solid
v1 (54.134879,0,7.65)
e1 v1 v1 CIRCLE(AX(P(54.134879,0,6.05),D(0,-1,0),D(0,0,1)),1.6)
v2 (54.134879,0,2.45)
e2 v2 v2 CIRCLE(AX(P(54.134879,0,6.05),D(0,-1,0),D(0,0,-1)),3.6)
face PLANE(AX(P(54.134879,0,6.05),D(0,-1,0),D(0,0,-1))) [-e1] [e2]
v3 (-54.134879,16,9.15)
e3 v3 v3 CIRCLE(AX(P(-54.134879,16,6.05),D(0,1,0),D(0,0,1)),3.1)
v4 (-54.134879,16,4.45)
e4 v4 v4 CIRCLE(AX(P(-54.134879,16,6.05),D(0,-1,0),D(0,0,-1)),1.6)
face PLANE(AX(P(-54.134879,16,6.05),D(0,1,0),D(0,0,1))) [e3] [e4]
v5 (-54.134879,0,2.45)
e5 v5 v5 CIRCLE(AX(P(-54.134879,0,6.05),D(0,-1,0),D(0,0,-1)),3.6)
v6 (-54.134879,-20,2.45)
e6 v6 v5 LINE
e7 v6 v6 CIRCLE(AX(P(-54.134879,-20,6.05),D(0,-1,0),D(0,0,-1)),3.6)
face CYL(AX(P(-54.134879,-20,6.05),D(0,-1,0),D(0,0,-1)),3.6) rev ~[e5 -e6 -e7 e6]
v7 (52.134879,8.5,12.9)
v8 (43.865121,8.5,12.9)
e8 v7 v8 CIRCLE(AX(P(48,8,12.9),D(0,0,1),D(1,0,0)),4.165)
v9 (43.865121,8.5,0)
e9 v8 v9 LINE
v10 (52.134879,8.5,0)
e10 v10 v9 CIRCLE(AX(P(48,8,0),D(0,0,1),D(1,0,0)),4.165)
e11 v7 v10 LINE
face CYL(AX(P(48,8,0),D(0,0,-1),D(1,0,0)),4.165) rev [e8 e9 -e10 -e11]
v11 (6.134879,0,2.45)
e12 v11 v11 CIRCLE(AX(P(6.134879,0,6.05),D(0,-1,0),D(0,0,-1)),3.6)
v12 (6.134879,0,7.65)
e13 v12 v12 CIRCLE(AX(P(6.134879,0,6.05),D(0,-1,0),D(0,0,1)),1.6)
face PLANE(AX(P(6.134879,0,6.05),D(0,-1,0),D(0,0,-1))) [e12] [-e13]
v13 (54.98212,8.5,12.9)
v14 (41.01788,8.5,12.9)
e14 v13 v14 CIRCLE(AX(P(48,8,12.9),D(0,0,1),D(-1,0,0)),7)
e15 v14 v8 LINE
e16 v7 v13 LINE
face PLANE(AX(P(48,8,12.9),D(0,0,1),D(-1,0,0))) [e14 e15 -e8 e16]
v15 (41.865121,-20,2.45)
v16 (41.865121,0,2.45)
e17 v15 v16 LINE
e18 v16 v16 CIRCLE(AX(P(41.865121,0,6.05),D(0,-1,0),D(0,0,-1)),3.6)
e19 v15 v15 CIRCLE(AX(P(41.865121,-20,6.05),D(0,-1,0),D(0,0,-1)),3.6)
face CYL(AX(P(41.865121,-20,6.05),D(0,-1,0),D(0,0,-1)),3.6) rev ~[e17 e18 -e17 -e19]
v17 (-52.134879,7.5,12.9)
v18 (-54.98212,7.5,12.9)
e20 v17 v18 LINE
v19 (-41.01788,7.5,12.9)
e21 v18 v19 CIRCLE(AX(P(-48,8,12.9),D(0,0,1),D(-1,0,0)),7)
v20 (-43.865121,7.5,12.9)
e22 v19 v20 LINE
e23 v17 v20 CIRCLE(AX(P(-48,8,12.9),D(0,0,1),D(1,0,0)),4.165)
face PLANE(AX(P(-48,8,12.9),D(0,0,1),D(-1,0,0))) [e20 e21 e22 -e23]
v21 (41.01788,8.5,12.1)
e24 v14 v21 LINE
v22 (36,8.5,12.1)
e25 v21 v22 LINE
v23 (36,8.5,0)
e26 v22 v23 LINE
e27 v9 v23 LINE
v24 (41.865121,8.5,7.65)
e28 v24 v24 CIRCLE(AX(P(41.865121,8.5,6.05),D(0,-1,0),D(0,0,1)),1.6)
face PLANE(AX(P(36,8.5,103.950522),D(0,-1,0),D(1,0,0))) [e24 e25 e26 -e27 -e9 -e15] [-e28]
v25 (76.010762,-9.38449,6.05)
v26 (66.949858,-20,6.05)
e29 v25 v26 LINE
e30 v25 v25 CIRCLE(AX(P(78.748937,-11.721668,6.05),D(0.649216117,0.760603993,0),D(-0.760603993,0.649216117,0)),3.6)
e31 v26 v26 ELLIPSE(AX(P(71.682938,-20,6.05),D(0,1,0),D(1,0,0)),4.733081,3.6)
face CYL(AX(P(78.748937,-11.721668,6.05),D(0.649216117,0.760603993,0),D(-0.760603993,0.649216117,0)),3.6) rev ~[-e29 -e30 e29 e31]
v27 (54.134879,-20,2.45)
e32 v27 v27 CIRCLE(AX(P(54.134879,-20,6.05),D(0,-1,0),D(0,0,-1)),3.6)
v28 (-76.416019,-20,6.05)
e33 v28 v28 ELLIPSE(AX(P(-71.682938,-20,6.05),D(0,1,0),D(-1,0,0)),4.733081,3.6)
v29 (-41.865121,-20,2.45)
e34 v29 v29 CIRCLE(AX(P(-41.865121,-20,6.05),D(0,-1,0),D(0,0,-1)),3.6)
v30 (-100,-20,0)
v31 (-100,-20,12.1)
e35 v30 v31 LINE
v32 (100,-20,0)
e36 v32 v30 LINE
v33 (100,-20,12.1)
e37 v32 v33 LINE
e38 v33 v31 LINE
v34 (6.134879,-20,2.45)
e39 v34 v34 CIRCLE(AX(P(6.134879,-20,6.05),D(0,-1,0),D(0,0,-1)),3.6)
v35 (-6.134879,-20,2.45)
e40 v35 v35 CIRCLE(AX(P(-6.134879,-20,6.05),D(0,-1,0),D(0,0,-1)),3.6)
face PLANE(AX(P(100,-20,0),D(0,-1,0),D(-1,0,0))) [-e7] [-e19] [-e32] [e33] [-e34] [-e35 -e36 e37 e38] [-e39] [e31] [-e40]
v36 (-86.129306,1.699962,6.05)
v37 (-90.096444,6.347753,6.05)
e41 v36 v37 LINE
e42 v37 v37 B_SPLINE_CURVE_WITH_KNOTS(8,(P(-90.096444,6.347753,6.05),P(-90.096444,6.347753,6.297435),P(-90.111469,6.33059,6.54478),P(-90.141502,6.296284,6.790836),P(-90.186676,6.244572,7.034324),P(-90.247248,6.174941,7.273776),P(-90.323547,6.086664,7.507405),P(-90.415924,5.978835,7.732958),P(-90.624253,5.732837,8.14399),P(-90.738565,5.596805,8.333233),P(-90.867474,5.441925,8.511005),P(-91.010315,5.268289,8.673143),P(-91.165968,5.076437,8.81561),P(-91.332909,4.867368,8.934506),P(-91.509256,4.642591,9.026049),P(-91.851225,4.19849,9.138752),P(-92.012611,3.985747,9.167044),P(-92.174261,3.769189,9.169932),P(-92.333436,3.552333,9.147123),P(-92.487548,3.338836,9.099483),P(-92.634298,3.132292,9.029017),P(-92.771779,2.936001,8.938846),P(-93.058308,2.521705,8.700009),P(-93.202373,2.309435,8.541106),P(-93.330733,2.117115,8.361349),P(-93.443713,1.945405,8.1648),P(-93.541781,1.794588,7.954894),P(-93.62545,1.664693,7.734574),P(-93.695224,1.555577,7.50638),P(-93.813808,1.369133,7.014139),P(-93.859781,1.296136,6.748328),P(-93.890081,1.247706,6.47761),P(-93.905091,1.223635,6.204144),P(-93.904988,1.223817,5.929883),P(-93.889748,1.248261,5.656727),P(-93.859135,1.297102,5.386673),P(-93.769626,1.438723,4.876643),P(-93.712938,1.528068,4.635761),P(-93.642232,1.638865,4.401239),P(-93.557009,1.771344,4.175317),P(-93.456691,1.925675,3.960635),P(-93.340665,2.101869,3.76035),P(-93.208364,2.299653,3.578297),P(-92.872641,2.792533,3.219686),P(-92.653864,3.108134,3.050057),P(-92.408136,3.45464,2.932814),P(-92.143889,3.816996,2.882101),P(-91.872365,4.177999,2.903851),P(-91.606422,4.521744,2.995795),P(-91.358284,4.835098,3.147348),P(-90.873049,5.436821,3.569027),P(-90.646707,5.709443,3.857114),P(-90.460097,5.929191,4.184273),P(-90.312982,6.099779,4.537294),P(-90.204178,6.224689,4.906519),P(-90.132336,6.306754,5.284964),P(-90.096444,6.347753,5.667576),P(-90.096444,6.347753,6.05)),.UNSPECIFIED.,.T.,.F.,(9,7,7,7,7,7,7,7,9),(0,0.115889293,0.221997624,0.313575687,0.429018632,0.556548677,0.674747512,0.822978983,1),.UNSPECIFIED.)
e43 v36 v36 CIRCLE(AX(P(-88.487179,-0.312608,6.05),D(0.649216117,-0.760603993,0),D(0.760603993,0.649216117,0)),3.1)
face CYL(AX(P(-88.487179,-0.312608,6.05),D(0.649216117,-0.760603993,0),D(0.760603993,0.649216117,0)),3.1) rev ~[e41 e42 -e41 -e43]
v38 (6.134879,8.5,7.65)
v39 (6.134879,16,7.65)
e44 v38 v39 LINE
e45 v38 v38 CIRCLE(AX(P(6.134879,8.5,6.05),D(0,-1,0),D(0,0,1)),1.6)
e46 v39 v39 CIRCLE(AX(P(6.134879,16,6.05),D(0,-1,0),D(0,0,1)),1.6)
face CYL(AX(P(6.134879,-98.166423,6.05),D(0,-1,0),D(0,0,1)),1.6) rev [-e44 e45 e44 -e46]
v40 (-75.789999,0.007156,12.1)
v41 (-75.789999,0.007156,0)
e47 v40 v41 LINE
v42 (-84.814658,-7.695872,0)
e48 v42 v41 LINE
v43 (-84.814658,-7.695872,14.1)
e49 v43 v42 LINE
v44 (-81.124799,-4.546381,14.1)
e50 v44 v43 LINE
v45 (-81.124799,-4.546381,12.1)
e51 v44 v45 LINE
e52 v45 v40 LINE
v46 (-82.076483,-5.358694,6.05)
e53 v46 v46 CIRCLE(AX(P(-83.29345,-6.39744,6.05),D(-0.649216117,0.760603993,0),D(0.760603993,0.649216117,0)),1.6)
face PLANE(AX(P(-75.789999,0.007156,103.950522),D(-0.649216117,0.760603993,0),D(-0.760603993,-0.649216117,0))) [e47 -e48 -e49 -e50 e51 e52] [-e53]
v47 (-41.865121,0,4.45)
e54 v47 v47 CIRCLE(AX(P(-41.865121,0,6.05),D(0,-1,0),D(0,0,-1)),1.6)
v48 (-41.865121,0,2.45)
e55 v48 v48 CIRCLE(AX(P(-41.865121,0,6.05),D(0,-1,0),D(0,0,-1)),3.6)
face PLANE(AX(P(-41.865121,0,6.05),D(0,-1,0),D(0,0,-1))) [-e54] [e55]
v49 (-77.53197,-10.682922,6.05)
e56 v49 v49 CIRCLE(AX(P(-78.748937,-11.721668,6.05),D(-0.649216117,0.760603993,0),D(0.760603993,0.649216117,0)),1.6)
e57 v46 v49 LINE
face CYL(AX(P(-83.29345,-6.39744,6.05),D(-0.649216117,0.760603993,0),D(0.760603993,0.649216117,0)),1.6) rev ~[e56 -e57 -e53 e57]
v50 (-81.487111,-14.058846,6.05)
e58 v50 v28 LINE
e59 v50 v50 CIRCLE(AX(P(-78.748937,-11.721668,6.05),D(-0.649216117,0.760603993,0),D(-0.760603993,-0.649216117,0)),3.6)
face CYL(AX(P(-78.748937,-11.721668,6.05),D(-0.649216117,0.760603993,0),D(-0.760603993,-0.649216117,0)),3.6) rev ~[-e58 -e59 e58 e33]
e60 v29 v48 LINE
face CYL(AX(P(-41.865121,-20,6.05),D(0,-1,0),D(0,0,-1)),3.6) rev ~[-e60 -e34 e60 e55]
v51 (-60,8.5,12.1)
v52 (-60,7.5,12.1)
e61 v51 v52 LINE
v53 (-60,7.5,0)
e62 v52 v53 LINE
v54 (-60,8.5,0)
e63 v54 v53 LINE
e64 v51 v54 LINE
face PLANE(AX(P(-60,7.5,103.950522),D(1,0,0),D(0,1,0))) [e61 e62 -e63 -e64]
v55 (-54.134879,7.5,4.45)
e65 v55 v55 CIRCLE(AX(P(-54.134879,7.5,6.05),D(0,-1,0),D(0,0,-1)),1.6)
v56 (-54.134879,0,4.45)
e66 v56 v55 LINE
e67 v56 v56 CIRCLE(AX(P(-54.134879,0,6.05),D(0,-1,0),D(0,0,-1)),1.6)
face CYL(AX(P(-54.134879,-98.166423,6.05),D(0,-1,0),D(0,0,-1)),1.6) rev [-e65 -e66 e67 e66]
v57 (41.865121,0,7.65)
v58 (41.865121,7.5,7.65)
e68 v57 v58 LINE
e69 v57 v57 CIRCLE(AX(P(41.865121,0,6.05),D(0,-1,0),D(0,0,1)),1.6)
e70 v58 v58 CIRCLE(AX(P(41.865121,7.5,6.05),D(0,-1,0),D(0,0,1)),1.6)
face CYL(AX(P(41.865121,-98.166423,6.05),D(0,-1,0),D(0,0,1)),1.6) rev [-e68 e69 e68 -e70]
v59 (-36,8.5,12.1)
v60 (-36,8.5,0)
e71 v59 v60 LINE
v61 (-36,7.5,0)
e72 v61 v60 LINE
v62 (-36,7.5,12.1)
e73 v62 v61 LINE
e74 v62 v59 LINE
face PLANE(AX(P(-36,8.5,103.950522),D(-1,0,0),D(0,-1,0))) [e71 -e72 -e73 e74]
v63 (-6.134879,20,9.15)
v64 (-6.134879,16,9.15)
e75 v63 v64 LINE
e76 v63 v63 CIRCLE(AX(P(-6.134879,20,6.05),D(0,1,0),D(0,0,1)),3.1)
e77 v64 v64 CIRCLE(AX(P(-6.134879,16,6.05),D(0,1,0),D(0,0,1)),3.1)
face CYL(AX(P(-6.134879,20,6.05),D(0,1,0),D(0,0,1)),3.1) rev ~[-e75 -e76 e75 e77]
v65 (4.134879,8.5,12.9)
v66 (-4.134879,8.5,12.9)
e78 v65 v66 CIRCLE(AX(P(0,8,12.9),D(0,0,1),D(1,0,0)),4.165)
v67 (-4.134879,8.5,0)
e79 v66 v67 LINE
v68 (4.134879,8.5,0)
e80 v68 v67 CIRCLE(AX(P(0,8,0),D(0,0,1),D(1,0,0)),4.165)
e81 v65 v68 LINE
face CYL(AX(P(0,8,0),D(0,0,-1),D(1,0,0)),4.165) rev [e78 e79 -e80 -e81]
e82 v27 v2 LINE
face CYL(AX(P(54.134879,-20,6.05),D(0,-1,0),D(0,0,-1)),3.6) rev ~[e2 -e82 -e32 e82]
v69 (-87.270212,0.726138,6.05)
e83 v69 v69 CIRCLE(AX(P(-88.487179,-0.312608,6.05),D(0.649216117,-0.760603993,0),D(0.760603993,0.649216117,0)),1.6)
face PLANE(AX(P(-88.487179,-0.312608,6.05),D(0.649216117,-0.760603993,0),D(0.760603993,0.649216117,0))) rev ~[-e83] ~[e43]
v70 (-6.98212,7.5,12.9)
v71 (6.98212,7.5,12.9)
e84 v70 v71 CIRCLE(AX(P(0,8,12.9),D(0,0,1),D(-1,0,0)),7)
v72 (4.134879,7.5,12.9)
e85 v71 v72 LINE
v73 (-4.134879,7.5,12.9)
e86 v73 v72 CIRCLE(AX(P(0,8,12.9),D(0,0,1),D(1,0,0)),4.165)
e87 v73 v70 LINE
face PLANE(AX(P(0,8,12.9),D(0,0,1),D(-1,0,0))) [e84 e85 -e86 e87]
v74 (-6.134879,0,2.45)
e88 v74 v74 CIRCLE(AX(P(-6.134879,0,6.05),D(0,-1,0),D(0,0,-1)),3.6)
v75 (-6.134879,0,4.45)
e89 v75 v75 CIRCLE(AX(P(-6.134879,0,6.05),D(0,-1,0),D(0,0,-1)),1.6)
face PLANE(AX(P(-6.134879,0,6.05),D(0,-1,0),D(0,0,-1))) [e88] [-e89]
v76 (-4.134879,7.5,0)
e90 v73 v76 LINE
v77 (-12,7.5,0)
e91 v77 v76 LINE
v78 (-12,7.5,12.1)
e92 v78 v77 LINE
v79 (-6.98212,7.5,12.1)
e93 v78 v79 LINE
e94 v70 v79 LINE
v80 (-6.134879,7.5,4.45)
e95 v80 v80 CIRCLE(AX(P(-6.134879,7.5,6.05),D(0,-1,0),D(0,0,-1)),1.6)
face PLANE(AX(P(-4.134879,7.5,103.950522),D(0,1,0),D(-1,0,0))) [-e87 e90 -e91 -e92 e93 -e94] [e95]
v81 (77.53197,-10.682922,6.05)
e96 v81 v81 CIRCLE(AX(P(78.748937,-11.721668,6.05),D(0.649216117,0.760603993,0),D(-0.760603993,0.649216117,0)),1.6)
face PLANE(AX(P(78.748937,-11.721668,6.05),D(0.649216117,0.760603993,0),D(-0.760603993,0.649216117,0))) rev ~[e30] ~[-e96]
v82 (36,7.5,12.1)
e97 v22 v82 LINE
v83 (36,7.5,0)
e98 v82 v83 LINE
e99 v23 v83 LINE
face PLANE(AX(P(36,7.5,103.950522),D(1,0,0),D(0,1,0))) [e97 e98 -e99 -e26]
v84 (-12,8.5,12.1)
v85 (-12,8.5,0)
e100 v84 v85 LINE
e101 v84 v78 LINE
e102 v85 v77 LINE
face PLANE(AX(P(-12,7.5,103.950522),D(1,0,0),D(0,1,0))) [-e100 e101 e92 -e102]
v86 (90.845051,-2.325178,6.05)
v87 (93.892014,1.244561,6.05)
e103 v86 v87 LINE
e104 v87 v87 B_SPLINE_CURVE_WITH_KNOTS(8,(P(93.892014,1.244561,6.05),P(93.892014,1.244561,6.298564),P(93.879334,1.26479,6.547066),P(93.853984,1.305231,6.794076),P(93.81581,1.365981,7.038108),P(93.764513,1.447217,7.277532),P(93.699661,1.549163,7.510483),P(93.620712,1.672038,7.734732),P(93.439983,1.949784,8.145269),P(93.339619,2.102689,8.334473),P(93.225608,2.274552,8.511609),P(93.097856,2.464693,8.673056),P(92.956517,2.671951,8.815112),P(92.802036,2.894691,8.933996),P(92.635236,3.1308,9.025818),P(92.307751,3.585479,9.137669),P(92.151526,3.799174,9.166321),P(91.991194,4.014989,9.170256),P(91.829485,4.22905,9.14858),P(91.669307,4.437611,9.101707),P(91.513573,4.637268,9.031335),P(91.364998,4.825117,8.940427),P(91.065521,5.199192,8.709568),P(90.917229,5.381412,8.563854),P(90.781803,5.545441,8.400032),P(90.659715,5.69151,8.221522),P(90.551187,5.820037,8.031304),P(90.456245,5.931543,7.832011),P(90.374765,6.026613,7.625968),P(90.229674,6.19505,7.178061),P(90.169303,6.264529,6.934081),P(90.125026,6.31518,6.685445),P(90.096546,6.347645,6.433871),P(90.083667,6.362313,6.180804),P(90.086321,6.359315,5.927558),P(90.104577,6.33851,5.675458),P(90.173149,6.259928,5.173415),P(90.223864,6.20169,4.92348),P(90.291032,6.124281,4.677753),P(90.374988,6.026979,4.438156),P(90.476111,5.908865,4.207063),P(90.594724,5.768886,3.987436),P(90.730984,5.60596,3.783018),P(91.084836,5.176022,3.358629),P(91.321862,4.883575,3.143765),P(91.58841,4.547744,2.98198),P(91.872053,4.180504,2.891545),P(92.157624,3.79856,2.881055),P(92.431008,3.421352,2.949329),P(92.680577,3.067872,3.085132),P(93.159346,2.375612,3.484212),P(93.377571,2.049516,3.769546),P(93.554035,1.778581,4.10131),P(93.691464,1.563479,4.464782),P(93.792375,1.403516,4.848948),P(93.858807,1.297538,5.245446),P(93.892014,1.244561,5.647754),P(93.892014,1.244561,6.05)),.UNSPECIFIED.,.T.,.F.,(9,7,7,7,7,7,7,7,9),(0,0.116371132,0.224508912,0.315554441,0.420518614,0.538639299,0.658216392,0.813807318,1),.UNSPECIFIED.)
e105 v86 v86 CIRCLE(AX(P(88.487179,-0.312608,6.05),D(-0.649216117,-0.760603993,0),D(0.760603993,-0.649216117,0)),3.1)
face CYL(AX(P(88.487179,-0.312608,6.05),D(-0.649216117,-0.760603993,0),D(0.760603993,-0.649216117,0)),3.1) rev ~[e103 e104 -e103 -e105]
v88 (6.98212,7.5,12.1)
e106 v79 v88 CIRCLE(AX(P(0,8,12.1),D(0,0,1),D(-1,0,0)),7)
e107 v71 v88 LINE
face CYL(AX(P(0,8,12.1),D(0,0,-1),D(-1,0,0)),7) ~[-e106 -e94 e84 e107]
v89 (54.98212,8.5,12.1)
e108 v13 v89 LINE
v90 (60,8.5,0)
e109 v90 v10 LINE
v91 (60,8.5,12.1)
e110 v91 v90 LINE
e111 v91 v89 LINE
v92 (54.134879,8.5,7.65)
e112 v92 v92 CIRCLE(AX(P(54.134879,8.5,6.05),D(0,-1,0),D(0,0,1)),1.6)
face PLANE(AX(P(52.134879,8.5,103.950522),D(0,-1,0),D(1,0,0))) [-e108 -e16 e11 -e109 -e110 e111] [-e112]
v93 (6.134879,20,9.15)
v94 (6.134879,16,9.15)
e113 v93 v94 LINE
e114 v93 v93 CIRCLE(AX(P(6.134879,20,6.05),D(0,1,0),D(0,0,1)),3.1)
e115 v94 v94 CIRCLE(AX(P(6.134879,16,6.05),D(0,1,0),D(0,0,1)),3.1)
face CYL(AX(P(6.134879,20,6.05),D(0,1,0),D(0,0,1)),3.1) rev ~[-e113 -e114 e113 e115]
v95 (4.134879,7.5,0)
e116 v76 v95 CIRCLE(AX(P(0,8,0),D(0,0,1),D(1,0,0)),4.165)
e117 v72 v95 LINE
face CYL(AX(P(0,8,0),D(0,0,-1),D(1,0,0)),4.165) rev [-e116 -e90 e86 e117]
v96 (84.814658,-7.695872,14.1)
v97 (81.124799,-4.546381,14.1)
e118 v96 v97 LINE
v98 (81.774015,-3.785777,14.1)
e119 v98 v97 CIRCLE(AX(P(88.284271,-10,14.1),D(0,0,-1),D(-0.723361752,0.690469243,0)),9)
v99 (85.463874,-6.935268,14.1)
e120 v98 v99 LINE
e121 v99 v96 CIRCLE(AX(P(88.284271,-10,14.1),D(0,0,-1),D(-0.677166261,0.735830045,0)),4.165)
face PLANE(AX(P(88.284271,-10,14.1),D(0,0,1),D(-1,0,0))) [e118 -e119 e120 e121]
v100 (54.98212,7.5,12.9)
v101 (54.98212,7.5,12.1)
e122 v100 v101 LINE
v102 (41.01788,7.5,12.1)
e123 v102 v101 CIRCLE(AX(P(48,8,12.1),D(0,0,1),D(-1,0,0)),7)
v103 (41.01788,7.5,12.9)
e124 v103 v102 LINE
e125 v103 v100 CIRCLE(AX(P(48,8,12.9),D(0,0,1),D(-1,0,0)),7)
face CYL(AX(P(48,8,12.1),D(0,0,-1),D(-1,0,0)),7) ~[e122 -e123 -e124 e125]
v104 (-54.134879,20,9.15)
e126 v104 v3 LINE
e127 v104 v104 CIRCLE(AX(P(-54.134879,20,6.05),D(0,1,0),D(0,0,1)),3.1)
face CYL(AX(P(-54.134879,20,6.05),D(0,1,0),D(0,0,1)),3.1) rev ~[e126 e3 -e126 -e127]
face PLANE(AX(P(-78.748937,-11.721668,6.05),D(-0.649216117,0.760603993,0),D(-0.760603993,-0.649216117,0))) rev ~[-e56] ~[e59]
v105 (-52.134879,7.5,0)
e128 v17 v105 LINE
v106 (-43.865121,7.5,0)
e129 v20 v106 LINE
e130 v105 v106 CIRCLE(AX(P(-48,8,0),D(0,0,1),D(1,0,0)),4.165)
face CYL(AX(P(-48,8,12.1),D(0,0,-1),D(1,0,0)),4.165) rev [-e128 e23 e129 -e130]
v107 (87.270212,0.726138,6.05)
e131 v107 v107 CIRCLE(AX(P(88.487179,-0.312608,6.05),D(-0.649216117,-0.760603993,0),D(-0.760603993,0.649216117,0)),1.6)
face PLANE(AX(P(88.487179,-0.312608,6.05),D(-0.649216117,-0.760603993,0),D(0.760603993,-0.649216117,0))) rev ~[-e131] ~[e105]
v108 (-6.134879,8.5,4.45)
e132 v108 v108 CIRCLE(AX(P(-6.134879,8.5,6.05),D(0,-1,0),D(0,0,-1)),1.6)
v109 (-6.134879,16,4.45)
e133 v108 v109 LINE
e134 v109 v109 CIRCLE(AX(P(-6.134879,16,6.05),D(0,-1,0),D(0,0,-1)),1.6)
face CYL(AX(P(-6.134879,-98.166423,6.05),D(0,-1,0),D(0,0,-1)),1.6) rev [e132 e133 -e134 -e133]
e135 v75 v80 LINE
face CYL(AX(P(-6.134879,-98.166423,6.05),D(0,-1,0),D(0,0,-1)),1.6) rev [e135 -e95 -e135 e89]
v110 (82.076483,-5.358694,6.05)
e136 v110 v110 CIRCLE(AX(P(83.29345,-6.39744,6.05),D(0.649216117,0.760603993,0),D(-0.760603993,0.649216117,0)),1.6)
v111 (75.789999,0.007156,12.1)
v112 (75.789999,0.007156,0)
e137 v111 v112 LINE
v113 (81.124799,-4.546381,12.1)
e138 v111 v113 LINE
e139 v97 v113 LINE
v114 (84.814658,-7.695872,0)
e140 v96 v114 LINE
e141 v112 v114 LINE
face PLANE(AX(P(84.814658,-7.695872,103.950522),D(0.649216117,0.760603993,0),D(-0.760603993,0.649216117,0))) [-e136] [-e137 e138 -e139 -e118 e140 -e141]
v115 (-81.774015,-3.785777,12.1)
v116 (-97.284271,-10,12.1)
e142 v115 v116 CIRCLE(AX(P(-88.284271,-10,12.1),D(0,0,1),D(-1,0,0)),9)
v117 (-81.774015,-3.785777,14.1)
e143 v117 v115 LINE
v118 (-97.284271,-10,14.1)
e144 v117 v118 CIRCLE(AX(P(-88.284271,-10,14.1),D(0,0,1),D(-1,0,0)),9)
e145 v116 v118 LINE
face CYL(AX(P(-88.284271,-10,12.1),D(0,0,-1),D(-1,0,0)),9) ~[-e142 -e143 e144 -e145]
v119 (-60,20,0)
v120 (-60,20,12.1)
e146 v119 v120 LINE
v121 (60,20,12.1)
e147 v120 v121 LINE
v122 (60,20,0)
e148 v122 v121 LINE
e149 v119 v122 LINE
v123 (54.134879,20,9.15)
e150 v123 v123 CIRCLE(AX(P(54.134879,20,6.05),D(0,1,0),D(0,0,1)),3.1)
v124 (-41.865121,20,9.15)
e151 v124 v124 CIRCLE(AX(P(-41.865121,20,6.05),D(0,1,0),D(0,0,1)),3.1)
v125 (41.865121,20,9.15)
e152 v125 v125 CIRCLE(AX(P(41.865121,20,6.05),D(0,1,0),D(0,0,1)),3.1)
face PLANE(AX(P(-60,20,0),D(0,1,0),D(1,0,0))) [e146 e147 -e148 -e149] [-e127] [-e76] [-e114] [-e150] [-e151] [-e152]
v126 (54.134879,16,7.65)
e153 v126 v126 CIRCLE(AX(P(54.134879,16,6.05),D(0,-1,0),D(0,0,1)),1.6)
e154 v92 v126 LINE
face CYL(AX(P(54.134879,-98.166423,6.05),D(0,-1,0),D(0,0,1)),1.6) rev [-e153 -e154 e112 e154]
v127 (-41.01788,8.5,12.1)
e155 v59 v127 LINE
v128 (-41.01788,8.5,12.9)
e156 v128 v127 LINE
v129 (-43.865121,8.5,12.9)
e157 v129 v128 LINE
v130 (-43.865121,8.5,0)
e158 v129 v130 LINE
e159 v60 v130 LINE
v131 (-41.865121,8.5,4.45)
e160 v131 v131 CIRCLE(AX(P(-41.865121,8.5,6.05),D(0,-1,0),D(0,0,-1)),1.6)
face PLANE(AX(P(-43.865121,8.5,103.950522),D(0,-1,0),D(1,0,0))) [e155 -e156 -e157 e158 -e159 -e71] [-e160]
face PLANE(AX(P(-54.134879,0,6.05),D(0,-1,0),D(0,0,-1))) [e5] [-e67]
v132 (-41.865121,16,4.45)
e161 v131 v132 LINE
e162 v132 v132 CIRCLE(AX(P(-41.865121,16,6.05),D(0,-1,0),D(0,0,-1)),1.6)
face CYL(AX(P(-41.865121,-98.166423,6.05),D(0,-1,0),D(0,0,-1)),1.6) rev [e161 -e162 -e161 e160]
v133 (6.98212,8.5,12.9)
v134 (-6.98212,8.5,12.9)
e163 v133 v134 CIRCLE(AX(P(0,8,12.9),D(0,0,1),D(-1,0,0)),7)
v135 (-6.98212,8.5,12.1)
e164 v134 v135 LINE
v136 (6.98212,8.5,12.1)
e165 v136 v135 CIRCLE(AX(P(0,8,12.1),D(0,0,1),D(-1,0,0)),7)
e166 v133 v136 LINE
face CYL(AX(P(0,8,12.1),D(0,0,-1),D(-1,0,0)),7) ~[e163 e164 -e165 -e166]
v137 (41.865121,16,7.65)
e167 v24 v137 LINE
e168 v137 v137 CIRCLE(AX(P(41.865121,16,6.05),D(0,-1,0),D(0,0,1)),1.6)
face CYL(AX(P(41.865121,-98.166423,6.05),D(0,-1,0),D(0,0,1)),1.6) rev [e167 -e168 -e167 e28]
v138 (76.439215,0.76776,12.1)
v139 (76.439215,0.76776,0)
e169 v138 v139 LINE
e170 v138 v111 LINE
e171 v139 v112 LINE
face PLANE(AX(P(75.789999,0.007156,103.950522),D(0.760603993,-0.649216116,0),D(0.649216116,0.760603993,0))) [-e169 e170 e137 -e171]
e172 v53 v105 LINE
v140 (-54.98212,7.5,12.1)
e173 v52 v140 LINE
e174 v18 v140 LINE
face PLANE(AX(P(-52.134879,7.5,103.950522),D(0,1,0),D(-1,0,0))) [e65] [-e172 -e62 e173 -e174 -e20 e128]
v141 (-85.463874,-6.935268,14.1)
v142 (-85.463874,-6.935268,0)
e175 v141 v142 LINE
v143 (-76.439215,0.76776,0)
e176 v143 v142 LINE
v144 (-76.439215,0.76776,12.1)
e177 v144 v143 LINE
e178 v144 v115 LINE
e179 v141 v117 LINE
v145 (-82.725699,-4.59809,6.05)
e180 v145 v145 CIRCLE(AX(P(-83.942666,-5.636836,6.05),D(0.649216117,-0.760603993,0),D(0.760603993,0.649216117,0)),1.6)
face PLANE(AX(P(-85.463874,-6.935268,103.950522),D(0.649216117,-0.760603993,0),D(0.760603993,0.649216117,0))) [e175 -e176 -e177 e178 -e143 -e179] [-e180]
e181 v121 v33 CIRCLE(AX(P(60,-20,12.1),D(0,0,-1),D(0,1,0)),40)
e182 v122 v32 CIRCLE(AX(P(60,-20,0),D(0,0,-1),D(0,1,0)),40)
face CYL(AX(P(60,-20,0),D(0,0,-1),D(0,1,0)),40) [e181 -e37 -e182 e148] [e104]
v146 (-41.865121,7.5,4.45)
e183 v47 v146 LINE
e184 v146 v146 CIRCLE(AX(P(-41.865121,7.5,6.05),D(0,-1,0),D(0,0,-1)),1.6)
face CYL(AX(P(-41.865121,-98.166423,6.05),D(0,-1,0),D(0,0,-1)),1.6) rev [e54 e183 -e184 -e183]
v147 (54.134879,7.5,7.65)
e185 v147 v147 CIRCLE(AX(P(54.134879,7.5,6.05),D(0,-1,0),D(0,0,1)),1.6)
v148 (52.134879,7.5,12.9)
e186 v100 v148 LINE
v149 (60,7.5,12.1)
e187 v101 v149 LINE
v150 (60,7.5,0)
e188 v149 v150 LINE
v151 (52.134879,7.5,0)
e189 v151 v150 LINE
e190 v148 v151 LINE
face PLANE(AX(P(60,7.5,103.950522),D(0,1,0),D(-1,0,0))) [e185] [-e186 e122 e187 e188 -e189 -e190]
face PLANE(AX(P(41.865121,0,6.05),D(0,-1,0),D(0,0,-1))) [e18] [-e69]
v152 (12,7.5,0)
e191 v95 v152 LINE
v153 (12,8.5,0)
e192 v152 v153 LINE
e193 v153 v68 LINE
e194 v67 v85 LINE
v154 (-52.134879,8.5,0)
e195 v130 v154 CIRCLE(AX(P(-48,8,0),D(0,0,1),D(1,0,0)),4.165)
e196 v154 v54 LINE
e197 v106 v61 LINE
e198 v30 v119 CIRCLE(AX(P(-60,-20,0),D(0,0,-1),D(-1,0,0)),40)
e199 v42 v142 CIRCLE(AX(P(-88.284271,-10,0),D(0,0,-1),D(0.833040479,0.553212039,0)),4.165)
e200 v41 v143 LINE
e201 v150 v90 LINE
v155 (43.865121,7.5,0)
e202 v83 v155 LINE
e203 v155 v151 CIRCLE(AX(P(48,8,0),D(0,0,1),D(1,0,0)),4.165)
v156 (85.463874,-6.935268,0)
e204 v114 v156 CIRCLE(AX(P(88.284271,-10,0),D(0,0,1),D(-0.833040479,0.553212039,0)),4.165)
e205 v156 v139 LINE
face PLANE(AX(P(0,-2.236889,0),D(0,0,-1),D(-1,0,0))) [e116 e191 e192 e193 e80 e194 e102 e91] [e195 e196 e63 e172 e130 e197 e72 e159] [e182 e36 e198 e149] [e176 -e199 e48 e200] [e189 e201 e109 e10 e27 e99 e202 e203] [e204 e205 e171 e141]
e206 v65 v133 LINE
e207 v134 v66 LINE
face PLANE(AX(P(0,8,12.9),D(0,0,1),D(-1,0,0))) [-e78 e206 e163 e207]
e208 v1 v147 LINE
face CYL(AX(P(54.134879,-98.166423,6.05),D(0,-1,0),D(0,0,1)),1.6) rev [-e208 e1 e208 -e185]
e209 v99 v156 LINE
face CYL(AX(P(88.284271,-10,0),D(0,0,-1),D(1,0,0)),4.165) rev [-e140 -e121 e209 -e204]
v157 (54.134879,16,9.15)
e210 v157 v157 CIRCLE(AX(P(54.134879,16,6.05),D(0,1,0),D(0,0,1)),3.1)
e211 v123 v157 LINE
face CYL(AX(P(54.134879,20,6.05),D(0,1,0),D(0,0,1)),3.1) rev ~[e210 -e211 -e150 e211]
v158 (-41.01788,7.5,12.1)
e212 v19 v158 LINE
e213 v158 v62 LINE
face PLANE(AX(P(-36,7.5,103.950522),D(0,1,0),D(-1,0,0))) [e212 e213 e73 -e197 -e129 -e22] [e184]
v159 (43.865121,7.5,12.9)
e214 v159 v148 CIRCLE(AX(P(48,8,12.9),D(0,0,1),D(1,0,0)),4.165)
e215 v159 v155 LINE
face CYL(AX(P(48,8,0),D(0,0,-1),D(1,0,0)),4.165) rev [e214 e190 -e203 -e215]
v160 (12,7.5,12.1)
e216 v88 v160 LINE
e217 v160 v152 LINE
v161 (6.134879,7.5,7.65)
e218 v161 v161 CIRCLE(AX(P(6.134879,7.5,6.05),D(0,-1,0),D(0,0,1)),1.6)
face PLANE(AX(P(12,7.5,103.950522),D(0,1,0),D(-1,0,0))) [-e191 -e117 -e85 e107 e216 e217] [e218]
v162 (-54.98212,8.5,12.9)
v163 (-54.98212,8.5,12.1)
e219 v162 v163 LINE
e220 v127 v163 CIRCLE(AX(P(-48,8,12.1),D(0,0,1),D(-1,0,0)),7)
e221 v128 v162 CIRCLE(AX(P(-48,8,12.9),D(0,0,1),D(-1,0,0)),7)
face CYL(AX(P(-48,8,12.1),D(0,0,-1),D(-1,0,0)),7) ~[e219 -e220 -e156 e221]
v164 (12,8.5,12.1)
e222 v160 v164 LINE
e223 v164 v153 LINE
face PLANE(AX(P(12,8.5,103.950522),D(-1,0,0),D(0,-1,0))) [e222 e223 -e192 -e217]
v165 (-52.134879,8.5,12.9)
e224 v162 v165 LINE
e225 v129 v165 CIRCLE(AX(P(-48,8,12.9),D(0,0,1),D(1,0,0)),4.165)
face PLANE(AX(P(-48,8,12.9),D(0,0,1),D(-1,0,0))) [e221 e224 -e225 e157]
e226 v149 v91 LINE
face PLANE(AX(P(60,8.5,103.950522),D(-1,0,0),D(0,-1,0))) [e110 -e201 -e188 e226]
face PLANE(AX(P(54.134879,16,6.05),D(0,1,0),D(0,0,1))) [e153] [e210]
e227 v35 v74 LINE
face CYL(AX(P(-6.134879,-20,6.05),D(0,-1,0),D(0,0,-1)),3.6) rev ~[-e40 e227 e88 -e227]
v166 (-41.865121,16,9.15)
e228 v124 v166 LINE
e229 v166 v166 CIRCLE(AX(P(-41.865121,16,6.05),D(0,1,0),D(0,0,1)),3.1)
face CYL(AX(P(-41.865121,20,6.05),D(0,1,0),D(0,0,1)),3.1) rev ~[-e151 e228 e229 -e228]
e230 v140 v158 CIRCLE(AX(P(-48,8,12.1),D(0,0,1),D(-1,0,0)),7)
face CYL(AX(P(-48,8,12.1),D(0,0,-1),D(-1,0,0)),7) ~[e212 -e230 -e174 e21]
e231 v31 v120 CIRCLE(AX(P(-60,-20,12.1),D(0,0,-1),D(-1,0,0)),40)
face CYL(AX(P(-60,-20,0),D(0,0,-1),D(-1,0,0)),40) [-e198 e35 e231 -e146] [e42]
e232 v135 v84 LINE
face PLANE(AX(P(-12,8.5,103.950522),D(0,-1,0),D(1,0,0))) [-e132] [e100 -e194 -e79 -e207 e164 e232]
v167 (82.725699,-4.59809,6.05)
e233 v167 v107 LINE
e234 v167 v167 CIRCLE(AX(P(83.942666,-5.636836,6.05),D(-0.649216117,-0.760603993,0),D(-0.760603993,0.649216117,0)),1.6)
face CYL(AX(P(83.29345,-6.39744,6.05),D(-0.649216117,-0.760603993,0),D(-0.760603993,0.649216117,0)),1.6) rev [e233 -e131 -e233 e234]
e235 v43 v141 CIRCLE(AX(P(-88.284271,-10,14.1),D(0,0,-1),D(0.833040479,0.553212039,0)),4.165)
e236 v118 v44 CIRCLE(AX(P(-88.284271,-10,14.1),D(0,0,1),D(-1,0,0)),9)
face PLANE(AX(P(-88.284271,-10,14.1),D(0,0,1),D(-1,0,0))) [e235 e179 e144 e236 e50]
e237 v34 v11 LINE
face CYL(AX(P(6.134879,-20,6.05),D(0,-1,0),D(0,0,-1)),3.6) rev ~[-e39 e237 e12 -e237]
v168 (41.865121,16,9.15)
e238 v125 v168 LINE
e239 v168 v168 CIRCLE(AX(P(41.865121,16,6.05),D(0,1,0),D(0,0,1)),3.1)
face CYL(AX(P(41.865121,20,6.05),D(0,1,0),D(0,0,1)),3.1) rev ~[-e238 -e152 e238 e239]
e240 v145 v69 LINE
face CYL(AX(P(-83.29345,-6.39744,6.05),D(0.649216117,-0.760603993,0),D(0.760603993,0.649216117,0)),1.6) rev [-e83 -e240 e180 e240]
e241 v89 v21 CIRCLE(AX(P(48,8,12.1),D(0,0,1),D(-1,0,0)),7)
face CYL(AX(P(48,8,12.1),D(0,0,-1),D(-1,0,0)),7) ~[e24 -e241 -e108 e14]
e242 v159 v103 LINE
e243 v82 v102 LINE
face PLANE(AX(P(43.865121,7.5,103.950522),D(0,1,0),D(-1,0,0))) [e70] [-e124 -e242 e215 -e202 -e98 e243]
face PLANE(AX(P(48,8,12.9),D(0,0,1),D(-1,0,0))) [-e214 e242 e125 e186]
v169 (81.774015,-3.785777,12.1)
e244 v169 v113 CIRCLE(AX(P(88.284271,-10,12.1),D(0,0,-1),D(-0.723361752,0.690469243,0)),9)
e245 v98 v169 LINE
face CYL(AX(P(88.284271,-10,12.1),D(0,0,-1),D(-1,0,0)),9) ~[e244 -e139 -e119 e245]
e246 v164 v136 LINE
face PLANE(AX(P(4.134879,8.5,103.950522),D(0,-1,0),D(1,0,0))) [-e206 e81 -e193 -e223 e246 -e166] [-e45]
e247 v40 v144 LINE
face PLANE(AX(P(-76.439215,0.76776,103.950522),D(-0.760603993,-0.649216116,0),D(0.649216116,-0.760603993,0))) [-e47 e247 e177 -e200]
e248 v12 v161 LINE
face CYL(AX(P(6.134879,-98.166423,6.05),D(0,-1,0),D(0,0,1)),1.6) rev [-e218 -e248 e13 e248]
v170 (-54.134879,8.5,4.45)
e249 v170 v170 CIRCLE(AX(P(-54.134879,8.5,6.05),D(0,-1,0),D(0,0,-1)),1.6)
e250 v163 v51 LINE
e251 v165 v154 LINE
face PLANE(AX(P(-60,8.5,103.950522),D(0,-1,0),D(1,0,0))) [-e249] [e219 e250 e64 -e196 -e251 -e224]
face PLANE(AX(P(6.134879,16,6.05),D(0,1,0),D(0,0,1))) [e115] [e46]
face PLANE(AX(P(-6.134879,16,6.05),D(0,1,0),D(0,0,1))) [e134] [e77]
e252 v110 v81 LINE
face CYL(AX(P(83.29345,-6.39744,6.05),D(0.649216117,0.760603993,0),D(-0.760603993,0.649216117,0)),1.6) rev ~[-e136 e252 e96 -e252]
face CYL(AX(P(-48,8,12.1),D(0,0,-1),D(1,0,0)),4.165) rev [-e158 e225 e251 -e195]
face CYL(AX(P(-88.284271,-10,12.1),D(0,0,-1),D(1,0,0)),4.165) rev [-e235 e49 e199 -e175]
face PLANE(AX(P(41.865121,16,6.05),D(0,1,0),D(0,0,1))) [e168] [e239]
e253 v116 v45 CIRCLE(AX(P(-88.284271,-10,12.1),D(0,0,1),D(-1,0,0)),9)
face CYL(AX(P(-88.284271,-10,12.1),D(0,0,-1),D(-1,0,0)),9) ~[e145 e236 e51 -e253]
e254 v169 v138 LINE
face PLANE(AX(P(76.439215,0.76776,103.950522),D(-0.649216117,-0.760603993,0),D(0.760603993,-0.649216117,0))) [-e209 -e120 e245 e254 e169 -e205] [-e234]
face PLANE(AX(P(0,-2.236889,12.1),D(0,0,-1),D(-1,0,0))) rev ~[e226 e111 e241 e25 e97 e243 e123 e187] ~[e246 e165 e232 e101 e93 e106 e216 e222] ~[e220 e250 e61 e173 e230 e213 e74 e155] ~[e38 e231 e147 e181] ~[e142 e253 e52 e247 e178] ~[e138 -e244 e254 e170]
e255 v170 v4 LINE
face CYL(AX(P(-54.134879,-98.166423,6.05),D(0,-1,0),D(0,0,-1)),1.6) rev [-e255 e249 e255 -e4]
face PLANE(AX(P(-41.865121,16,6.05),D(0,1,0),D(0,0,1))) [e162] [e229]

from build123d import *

# Parameters (mm, degrees)
SKETCH1_R                      = 4.165
BOSS_EXTRUDE1_DEPTH            = 12.1
SKETCH2_R                      = 7
SKETCH2_R_2                    = 4.165
BOSS_EXTRUDE3_DEPTH            = 0.8
SKETCH4_R                      = 9
SKETCH4_R_2                    = 4.165
BOSS_EXTRUDE4_DEPTH            = 2
CUT_EXTRUDE2_DEPTH             = 103.950522097
CUT_EXTRUDE2_DEPTH_BACK        = 103.950522097
CUT_EXTRUDE3_DEPTH             = 105.666422505
CUT_EXTRUDE3_DEPTH_BACK        = 105.666422505
SKETCH8_R                      = 1.6
CUT_EXTRUDE4_REACH             = 146.593
SKETCH9_R                      = 1.6
CUT_EXTRUDE4_DIRECTION_2_REACH = 146.593
CUT_EXTRUDE5_REACH             = 146.593
SKETCH10_R                     = 1.6
CUT_EXTRUDE5_DIRECTION_2_REACH = 146.593
SKETCH11_R                     = 3.1
CUT_EXTRUDE6_DEPTH             = 4
SKETCH12_R                     = 3.6
CUT_EXTRUDE7_DEPTH             = 20
CUT_EXTRUDE8_REACH             = 153.791
CUT_EXTRUDE8_END_RADIUS        = 40
SKETCH13_R                     = 3.1
CUT_EXTRUDE9_REACH             = 140.366
SKETCH14_R                     = 3.6
CUT_EXTRUDE10_REACH            = 140.366
SKETCH15_R                     = 3.6
CUT_EXTRUDE11_REACH            = 153.791
CUT_EXTRUDE11_END_RADIUS       = 40
SKETCH16_R                     = 3.1


with BuildPart() as part:
    # Sketch1 → Boss-Extrude1 (new body)
    with BuildSketch(Plane.XY):
        with BuildLine():
            Line((-60, 20), (60, 20))
            ThreePointArc((60, 20), (88.284271247, 8.284271247), (100, -20))
            Line((100, -20), (-100, -20))
            ThreePointArc((-100, -20), (-88.284271247, 8.284271247), (-60, 20))
        make_face()
        with Locations((0, 8)):
            Circle(SKETCH1_R, mode=Mode.SUBTRACT)
        with Locations((48, 8)):
            Circle(SKETCH1_R, mode=Mode.SUBTRACT)
        with Locations((-48, 8)):
            Circle(SKETCH1_R, mode=Mode.SUBTRACT)
        with Locations((-88.284271247, -10)):
            Circle(SKETCH1_R, mode=Mode.SUBTRACT)
        with Locations((88.284271247, -10)):
            Circle(SKETCH1_R, mode=Mode.SUBTRACT)
    extrude(amount=BOSS_EXTRUDE1_DEPTH)

    # Sketch2 → Boss-Extrude3 (add)
    # profile 1 of 3: a face of its own
    with BuildSketch(Plane.XY.offset(12.1)):
        with Locations(Location((-48, 8, 0), (0, 0, 180))):
            Circle(SKETCH2_R)
        with Locations((-48, 8)):
            Circle(SKETCH2_R_2, mode=Mode.SUBTRACT)
    # profile 2 of 3: a face of its own
    with BuildSketch(Plane.XY.offset(12.1)):
        with Locations(Location((0, 8, 0), (0, 0, 180))):
            Circle(SKETCH2_R)
        with Locations((0, 8)):
            Circle(SKETCH2_R_2, mode=Mode.SUBTRACT)
    # profile 3 of 3: a face of its own
    with BuildSketch(Plane.XY.offset(12.1)):
        with Locations(Location((48, 8, 0), (0, 0, 180))):
            Circle(SKETCH2_R)
        with Locations((48, 8)):
            Circle(SKETCH2_R_2, mode=Mode.SUBTRACT)
    extrude(amount=BOSS_EXTRUDE3_DEPTH)

    # Sketch4 → Boss-Extrude4 (add)
    # profile 1 of 2: a face of its own
    with BuildSketch(Plane.XY.offset(12.1)):
        with Locations(Location((-88.284271247, -10, 0), (0, 0, 180))):
            Circle(SKETCH4_R)
        with Locations((-88.284271247, -10)):
            Circle(SKETCH4_R_2, mode=Mode.SUBTRACT)
    # profile 2 of 2: a face of its own
    with BuildSketch(Plane.XY.offset(12.1)):
        with Locations(Location((88.284271247, -10, 0), (0, 0, 180))):
            Circle(SKETCH4_R)
        with Locations((88.284271247, -10)):
            Circle(SKETCH4_R_2, mode=Mode.SUBTRACT)
    extrude(amount=BOSS_EXTRUDE4_DEPTH)

    # Sketch6 → Cut-Extrude2 (cut, two sides: drawn at the far end of the back side and taken through both)
    with BuildSketch(Plane(origin=(0, 0, 0), x_dir=(-1, 0, 0), z_dir=(0, 0, -1)).offset(-CUT_EXTRUDE2_DEPTH_BACK)):
        with BuildLine():
            ThreePointArc((84.814657652, -7.695871857), (85.116355618, -7.296014873), (85.463873769, -6.935267864))
            Line((85.463873769, -6.935267864), (76.439215423, 0.767759866))
            Line((76.439215423, 0.767759866), (75.789999307, 0.007155873))
            Line((75.789999307, 0.007155873), (84.814657652, -7.695871857))
        make_face()
        with BuildLine():
            ThreePointArc((-85.463873769, -6.935267864), (-85.116355618, -7.296014873), (-84.814657652, -7.695871857))
            Line((-84.814657652, -7.695871857), (-75.789999307, 0.007155873))
            Line((-75.789999307, 0.007155873), (-76.439215423, 0.767759866))
            Line((-76.439215423, 0.767759866), (-85.463873769, -6.935267864))
        make_face()
        with BuildLine():
            Line((-52.134879079, 8.5), (-60, 8.5))
            Line((-60, 8.5), (-60, 7.5))
            Line((-60, 7.5), (-52.134879079, 7.5))
            ThreePointArc((-52.134879079, 7.5), (-52.165, 8), (-52.134879079, 8.5))
        make_face()
        with BuildLine():
            Line((-36, 8.5), (-43.865120921, 8.5))
            ThreePointArc((-43.865120921, 8.5), (-43.835, 8), (-43.865120921, 7.5))
            Line((-43.865120921, 7.5), (-36, 7.5))
            Line((-36, 7.5), (-36, 8.5))
        make_face()
        with BuildLine():
            Line((-4.134879079, 8.5), (-12, 8.5))
            Line((-12, 8.5), (-12, 7.5))
            Line((-12, 7.5), (-4.134879079, 7.5))
            ThreePointArc((-4.134879079, 7.5), (-4.165, 8), (-4.134879079, 8.5))
        make_face()
        with BuildLine():
            Line((12, 8.5), (4.134879079, 8.5))
            ThreePointArc((4.134879079, 8.5), (4.165, 8), (4.134879079, 7.5))
            Line((4.134879079, 7.5), (12, 7.5))
            Line((12, 7.5), (12, 8.5))
        make_face()
        with BuildLine():
            Line((43.865120921, 8.5), (36, 8.5))
            Line((36, 8.5), (36, 7.5))
            Line((36, 7.5), (43.865120921, 7.5))
            ThreePointArc((43.865120921, 7.5), (43.835, 8), (43.865120921, 8.5))
        make_face()
        with BuildLine():
            Line((60, 8.5), (52.134879079, 8.5))
            ThreePointArc((52.134879079, 8.5), (52.165, 8), (52.134879079, 7.5))
            Line((52.134879079, 7.5), (60, 7.5))
            Line((60, 7.5), (60, 8.5))
        make_face()
    extrude(amount=CUT_EXTRUDE2_DEPTH + CUT_EXTRUDE2_DEPTH_BACK, mode=Mode.SUBTRACT)

    # Sketch8 → Cut-Extrude3 (cut, two sides: drawn at the far end of the back side and taken through both)
    with BuildSketch(Plane(origin=(0, 7.5, 0), x_dir=(1, 0, 0), z_dir=(0, 1, 0)).offset(-CUT_EXTRUDE3_DEPTH_BACK)):
        with Locations(Location((54.134879079, -6.05, 0), (0, 0, 270))):
            Circle(SKETCH8_R)
        with Locations(Location((41.865120921, -6.05, 0), (0, 0, 270))):
            Circle(SKETCH8_R)
        with Locations(Location((6.134879079, -6.05, 0), (0, 0, 270))):
            Circle(SKETCH8_R)
        with Locations(Location((-41.865120921, -6.05, 0), (0, 0, 90))):
            Circle(SKETCH8_R)
        with Locations(Location((-6.134879079, -6.05, 0), (0, 0, 90))):
            Circle(SKETCH8_R)
        with Locations(Location((-54.134879079, -6.05, 0), (0, 0, 90))):
            Circle(SKETCH8_R)
    extrude(amount=CUT_EXTRUDE3_DEPTH + CUT_EXTRUDE3_DEPTH_BACK, mode=Mode.SUBTRACT)

    # Sketch9 → Cut-Extrude4 (cut, up to next)
    with BuildSketch(Plane(origin=(31.947621166, 37.428966387, 0), x_dir=(0.76060399265734, -0.6492161168314546, 0), z_dir=(0.6492161168314546, 0.76060399265734, 0)), mode=Mode.PRIVATE) as cut_extrude4_sk1:
        with Locations(Location((67.506651289, -6.05, 0), (0, 0, 180))):
            Circle(SKETCH9_R)
    cut_extrude4_tool1 = extrude(cut_extrude4_sk1.sketch, amount=-CUT_EXTRUDE4_REACH, mode=Mode.PRIVATE) & part.part
    add(cut_extrude4_tool1.solids().sort_by_distance((83.29345, -6.39744, 6.05))[0], mode=Mode.SUBTRACT)

    # Sketch9 → Cut-Extrude4 direction 2 (cut, up to next)
    with BuildSketch(Plane(origin=(31.947621166, 37.428966387, 0), x_dir=(0.76060399265734, -0.6492161168314546, 0), z_dir=(0.6492161168314546, 0.76060399265734, 0)), mode=Mode.PRIVATE) as cut_extrude4_direction_2_sk1:
        with Locations(Location((67.506651289, -6.05, 0), (0, 0, 180))):
            Circle(SKETCH9_R)
    cut_extrude4_direction_2_tool1 = extrude(cut_extrude4_direction_2_sk1.sketch, amount=CUT_EXTRUDE4_DIRECTION_2_REACH, mode=Mode.PRIVATE) & part.part
    add(cut_extrude4_direction_2_tool1.solids().sort_by_distance((83.29345, -6.39744, 6.05))[0], mode=Mode.SUBTRACT)

    # Sketch10 → Cut-Extrude5 (cut, up to next)
    with BuildSketch(Plane(origin=(-31.947621166, 37.428966387, 0), x_dir=(0.7606039926573399, 0.6492161168314549, 0), z_dir=(-0.6492161168314549, 0.7606039926573399, 0)), mode=Mode.PRIVATE) as cut_extrude5_sk1:
        with Locations((-67.506651289, -6.05)):
            Circle(SKETCH10_R)
    cut_extrude5_tool1 = extrude(cut_extrude5_sk1.sketch, amount=-CUT_EXTRUDE5_REACH, mode=Mode.PRIVATE) & part.part
    add(cut_extrude5_tool1.solids().sort_by_distance((-83.29345, -6.39744, 6.05))[0], mode=Mode.SUBTRACT)

    # Sketch10 → Cut-Extrude5 direction 2 (cut, up to next)
    with BuildSketch(Plane(origin=(-31.947621166, 37.428966387, 0), x_dir=(0.7606039926573399, 0.6492161168314549, 0), z_dir=(-0.6492161168314549, 0.7606039926573399, 0)), mode=Mode.PRIVATE) as cut_extrude5_direction_2_sk1:
        with Locations((-67.506651289, -6.05)):
            Circle(SKETCH10_R)
    cut_extrude5_direction_2_tool1 = extrude(cut_extrude5_direction_2_sk1.sketch, amount=CUT_EXTRUDE5_DIRECTION_2_REACH, mode=Mode.PRIVATE) & part.part
    add(cut_extrude5_direction_2_tool1.solids().sort_by_distance((-83.29345, -6.39744, 6.05))[0], mode=Mode.SUBTRACT)

    # Sketch11 → Cut-Extrude6 (cut)
    with BuildSketch(Plane(origin=(0, 20, 0), x_dir=(1, 0, 0), z_dir=(0, 1, 0))):
        with Locations(Location((-54.134879079, -6.05, 0), (0, 0, 270))):
            Circle(SKETCH11_R)
        with Locations(Location((-41.865120921, -6.05, 0), (0, 0, 270))):
            Circle(SKETCH11_R)
        with Locations(Location((-6.134879079, -6.05, 0), (0, 0, 270))):
            Circle(SKETCH11_R)
        with Locations(Location((6.134879079, -6.05, 0), (0, 0, 270))):
            Circle(SKETCH11_R)
        with Locations(Location((41.865120921, -6.05, 0), (0, 0, 270))):
            Circle(SKETCH11_R)
        with Locations(Location((54.134879079, -6.05, 0), (0, 0, 270))):
            Circle(SKETCH11_R)
    extrude(amount=-CUT_EXTRUDE6_DEPTH, mode=Mode.SUBTRACT)

    # Sketch12 → Cut-Extrude7 (cut)
    with BuildSketch(Plane.XZ.offset(20)):
        with Locations(Location((-54.134879079, 6.05, 0), (0, 0, 270))):
            Circle(SKETCH12_R)
        with Locations(Location((-41.865120921, 6.05, 0), (0, 0, 270))):
            Circle(SKETCH12_R)
        with Locations(Location((-6.134879079, 6.05, 0), (0, 0, 270))):
            Circle(SKETCH12_R)
        with Locations(Location((6.134879079, 6.05, 0), (0, 0, 270))):
            Circle(SKETCH12_R)
        with Locations(Location((41.865120921, 6.05, 0), (0, 0, 270))):
            Circle(SKETCH12_R)
        with Locations(Location((54.134879079, 6.05, 0), (0, 0, 270))):
            Circle(SKETCH12_R)
    extrude(amount=-CUT_EXTRUDE7_DEPTH, mode=Mode.SUBTRACT)

    # Cut-Extrude8: up to this cylinder (the profile starts inside it)
    cut_extrude8_end = Plane(origin=(-60, -20, 6.05), z_dir=(0, 0, -1)) * Cylinder(CUT_EXTRUDE8_END_RADIUS, 388.582, mode=Mode.PRIVATE)
    # Sketch13 → Cut-Extrude8 (cut, up to the surface)
    with BuildSketch(Plane(origin=(-37.1413501, 43.513798328, 0), x_dir=(-0.76060399265734, -0.6492161168314547, 0), z_dir=(0.6492161168314547, -0.76060399265734, 0)), mode=Mode.PRIVATE) as cut_extrude8_sk1:
        with Locations(Location((67.506651289, -6.05, 0), (0, 0, 180))):
            Circle(SKETCH13_R)
    cut_extrude8_tool1 = extrude(cut_extrude8_sk1.sketch, amount=-CUT_EXTRUDE8_REACH, mode=Mode.PRIVATE) & cut_extrude8_end
    add(cut_extrude8_tool1.solids().sort_by_distance((-88.487179, -0.312608, 6.05))[0], mode=Mode.SUBTRACT)

    # Cut-Extrude9: up to this plane
    cut_extrude9_end = Plane(origin=(-100, -20, 12.1), z_dir=(0, 1, 0))
    # Sketch14 → Cut-Extrude9 (cut, up to the surface)
    with BuildSketch(Plane(origin=(-27.403108348, 32.104738438, 0), x_dir=(0.76060399265734, 0.6492161168314547, 0), z_dir=(-0.6492161168314547, 0.76060399265734, 0)), mode=Mode.PRIVATE) as cut_extrude9_sk1:
        with Locations(Location((-67.506651289, -6.05, 0), (0, 0, 180))):
            Circle(SKETCH14_R)
    cut_extrude9_tool1 = split(extrude(cut_extrude9_sk1.sketch, amount=-CUT_EXTRUDE9_REACH, mode=Mode.PRIVATE), bisect_by=cut_extrude9_end, keep=Keep.BOTH, mode=Mode.PRIVATE)
    add(cut_extrude9_tool1.solids().sort_by_distance((-78.748937, -11.721668, 6.05))[0], mode=Mode.SUBTRACT)

    # Cut-Extrude10: up to this plane
    cut_extrude10_end = Plane(origin=(-100, -20, 12.1), z_dir=(0, 1, 0))
    # Sketch15 → Cut-Extrude10 (cut, up to the surface)
    with BuildSketch(Plane(origin=(27.403108348, 32.104738438, 0), x_dir=(0.76060399265734, -0.6492161168314547, 0), z_dir=(0.6492161168314547, 0.76060399265734, 0)), mode=Mode.PRIVATE) as cut_extrude10_sk1:
        with Locations(Location((67.506651289, -6.05, 0), (0, 0, 180))):
            Circle(SKETCH15_R)
    cut_extrude10_tool1 = split(extrude(cut_extrude10_sk1.sketch, amount=-CUT_EXTRUDE10_REACH, mode=Mode.PRIVATE), bisect_by=cut_extrude10_end, keep=Keep.BOTH, mode=Mode.PRIVATE)
    add(cut_extrude10_tool1.solids().sort_by_distance((78.748937, -11.721668, 6.05))[0], mode=Mode.SUBTRACT)

    # Cut-Extrude11: up to this cylinder (the profile starts inside it)
    cut_extrude11_end = Plane(origin=(60, -20, 6.05), z_dir=(0, 0, -1)) * Cylinder(CUT_EXTRUDE11_END_RADIUS, 388.582, mode=Mode.PRIVATE)
    # Sketch16 → Cut-Extrude11 (cut, up to the surface)
    with BuildSketch(Plane(origin=(37.1413501, 43.513798328, 0), x_dir=(-0.7606039926573408, 0.6492161168314537, 0), z_dir=(-0.6492161168314537, -0.7606039926573408, 0)), mode=Mode.PRIVATE) as cut_extrude11_sk1:
        with Locations(Location((-67.506651289, -6.05, 0), (0, 0, 180))):
            Circle(SKETCH16_R)
    cut_extrude11_tool1 = extrude(cut_extrude11_sk1.sketch, amount=-CUT_EXTRUDE11_REACH, mode=Mode.PRIVATE) & cut_extrude11_end
    add(cut_extrude11_tool1.solids().sort_by_distance((88.487179, -0.312608, 6.05))[0], mode=Mode.SUBTRACT)


solid = part.part
